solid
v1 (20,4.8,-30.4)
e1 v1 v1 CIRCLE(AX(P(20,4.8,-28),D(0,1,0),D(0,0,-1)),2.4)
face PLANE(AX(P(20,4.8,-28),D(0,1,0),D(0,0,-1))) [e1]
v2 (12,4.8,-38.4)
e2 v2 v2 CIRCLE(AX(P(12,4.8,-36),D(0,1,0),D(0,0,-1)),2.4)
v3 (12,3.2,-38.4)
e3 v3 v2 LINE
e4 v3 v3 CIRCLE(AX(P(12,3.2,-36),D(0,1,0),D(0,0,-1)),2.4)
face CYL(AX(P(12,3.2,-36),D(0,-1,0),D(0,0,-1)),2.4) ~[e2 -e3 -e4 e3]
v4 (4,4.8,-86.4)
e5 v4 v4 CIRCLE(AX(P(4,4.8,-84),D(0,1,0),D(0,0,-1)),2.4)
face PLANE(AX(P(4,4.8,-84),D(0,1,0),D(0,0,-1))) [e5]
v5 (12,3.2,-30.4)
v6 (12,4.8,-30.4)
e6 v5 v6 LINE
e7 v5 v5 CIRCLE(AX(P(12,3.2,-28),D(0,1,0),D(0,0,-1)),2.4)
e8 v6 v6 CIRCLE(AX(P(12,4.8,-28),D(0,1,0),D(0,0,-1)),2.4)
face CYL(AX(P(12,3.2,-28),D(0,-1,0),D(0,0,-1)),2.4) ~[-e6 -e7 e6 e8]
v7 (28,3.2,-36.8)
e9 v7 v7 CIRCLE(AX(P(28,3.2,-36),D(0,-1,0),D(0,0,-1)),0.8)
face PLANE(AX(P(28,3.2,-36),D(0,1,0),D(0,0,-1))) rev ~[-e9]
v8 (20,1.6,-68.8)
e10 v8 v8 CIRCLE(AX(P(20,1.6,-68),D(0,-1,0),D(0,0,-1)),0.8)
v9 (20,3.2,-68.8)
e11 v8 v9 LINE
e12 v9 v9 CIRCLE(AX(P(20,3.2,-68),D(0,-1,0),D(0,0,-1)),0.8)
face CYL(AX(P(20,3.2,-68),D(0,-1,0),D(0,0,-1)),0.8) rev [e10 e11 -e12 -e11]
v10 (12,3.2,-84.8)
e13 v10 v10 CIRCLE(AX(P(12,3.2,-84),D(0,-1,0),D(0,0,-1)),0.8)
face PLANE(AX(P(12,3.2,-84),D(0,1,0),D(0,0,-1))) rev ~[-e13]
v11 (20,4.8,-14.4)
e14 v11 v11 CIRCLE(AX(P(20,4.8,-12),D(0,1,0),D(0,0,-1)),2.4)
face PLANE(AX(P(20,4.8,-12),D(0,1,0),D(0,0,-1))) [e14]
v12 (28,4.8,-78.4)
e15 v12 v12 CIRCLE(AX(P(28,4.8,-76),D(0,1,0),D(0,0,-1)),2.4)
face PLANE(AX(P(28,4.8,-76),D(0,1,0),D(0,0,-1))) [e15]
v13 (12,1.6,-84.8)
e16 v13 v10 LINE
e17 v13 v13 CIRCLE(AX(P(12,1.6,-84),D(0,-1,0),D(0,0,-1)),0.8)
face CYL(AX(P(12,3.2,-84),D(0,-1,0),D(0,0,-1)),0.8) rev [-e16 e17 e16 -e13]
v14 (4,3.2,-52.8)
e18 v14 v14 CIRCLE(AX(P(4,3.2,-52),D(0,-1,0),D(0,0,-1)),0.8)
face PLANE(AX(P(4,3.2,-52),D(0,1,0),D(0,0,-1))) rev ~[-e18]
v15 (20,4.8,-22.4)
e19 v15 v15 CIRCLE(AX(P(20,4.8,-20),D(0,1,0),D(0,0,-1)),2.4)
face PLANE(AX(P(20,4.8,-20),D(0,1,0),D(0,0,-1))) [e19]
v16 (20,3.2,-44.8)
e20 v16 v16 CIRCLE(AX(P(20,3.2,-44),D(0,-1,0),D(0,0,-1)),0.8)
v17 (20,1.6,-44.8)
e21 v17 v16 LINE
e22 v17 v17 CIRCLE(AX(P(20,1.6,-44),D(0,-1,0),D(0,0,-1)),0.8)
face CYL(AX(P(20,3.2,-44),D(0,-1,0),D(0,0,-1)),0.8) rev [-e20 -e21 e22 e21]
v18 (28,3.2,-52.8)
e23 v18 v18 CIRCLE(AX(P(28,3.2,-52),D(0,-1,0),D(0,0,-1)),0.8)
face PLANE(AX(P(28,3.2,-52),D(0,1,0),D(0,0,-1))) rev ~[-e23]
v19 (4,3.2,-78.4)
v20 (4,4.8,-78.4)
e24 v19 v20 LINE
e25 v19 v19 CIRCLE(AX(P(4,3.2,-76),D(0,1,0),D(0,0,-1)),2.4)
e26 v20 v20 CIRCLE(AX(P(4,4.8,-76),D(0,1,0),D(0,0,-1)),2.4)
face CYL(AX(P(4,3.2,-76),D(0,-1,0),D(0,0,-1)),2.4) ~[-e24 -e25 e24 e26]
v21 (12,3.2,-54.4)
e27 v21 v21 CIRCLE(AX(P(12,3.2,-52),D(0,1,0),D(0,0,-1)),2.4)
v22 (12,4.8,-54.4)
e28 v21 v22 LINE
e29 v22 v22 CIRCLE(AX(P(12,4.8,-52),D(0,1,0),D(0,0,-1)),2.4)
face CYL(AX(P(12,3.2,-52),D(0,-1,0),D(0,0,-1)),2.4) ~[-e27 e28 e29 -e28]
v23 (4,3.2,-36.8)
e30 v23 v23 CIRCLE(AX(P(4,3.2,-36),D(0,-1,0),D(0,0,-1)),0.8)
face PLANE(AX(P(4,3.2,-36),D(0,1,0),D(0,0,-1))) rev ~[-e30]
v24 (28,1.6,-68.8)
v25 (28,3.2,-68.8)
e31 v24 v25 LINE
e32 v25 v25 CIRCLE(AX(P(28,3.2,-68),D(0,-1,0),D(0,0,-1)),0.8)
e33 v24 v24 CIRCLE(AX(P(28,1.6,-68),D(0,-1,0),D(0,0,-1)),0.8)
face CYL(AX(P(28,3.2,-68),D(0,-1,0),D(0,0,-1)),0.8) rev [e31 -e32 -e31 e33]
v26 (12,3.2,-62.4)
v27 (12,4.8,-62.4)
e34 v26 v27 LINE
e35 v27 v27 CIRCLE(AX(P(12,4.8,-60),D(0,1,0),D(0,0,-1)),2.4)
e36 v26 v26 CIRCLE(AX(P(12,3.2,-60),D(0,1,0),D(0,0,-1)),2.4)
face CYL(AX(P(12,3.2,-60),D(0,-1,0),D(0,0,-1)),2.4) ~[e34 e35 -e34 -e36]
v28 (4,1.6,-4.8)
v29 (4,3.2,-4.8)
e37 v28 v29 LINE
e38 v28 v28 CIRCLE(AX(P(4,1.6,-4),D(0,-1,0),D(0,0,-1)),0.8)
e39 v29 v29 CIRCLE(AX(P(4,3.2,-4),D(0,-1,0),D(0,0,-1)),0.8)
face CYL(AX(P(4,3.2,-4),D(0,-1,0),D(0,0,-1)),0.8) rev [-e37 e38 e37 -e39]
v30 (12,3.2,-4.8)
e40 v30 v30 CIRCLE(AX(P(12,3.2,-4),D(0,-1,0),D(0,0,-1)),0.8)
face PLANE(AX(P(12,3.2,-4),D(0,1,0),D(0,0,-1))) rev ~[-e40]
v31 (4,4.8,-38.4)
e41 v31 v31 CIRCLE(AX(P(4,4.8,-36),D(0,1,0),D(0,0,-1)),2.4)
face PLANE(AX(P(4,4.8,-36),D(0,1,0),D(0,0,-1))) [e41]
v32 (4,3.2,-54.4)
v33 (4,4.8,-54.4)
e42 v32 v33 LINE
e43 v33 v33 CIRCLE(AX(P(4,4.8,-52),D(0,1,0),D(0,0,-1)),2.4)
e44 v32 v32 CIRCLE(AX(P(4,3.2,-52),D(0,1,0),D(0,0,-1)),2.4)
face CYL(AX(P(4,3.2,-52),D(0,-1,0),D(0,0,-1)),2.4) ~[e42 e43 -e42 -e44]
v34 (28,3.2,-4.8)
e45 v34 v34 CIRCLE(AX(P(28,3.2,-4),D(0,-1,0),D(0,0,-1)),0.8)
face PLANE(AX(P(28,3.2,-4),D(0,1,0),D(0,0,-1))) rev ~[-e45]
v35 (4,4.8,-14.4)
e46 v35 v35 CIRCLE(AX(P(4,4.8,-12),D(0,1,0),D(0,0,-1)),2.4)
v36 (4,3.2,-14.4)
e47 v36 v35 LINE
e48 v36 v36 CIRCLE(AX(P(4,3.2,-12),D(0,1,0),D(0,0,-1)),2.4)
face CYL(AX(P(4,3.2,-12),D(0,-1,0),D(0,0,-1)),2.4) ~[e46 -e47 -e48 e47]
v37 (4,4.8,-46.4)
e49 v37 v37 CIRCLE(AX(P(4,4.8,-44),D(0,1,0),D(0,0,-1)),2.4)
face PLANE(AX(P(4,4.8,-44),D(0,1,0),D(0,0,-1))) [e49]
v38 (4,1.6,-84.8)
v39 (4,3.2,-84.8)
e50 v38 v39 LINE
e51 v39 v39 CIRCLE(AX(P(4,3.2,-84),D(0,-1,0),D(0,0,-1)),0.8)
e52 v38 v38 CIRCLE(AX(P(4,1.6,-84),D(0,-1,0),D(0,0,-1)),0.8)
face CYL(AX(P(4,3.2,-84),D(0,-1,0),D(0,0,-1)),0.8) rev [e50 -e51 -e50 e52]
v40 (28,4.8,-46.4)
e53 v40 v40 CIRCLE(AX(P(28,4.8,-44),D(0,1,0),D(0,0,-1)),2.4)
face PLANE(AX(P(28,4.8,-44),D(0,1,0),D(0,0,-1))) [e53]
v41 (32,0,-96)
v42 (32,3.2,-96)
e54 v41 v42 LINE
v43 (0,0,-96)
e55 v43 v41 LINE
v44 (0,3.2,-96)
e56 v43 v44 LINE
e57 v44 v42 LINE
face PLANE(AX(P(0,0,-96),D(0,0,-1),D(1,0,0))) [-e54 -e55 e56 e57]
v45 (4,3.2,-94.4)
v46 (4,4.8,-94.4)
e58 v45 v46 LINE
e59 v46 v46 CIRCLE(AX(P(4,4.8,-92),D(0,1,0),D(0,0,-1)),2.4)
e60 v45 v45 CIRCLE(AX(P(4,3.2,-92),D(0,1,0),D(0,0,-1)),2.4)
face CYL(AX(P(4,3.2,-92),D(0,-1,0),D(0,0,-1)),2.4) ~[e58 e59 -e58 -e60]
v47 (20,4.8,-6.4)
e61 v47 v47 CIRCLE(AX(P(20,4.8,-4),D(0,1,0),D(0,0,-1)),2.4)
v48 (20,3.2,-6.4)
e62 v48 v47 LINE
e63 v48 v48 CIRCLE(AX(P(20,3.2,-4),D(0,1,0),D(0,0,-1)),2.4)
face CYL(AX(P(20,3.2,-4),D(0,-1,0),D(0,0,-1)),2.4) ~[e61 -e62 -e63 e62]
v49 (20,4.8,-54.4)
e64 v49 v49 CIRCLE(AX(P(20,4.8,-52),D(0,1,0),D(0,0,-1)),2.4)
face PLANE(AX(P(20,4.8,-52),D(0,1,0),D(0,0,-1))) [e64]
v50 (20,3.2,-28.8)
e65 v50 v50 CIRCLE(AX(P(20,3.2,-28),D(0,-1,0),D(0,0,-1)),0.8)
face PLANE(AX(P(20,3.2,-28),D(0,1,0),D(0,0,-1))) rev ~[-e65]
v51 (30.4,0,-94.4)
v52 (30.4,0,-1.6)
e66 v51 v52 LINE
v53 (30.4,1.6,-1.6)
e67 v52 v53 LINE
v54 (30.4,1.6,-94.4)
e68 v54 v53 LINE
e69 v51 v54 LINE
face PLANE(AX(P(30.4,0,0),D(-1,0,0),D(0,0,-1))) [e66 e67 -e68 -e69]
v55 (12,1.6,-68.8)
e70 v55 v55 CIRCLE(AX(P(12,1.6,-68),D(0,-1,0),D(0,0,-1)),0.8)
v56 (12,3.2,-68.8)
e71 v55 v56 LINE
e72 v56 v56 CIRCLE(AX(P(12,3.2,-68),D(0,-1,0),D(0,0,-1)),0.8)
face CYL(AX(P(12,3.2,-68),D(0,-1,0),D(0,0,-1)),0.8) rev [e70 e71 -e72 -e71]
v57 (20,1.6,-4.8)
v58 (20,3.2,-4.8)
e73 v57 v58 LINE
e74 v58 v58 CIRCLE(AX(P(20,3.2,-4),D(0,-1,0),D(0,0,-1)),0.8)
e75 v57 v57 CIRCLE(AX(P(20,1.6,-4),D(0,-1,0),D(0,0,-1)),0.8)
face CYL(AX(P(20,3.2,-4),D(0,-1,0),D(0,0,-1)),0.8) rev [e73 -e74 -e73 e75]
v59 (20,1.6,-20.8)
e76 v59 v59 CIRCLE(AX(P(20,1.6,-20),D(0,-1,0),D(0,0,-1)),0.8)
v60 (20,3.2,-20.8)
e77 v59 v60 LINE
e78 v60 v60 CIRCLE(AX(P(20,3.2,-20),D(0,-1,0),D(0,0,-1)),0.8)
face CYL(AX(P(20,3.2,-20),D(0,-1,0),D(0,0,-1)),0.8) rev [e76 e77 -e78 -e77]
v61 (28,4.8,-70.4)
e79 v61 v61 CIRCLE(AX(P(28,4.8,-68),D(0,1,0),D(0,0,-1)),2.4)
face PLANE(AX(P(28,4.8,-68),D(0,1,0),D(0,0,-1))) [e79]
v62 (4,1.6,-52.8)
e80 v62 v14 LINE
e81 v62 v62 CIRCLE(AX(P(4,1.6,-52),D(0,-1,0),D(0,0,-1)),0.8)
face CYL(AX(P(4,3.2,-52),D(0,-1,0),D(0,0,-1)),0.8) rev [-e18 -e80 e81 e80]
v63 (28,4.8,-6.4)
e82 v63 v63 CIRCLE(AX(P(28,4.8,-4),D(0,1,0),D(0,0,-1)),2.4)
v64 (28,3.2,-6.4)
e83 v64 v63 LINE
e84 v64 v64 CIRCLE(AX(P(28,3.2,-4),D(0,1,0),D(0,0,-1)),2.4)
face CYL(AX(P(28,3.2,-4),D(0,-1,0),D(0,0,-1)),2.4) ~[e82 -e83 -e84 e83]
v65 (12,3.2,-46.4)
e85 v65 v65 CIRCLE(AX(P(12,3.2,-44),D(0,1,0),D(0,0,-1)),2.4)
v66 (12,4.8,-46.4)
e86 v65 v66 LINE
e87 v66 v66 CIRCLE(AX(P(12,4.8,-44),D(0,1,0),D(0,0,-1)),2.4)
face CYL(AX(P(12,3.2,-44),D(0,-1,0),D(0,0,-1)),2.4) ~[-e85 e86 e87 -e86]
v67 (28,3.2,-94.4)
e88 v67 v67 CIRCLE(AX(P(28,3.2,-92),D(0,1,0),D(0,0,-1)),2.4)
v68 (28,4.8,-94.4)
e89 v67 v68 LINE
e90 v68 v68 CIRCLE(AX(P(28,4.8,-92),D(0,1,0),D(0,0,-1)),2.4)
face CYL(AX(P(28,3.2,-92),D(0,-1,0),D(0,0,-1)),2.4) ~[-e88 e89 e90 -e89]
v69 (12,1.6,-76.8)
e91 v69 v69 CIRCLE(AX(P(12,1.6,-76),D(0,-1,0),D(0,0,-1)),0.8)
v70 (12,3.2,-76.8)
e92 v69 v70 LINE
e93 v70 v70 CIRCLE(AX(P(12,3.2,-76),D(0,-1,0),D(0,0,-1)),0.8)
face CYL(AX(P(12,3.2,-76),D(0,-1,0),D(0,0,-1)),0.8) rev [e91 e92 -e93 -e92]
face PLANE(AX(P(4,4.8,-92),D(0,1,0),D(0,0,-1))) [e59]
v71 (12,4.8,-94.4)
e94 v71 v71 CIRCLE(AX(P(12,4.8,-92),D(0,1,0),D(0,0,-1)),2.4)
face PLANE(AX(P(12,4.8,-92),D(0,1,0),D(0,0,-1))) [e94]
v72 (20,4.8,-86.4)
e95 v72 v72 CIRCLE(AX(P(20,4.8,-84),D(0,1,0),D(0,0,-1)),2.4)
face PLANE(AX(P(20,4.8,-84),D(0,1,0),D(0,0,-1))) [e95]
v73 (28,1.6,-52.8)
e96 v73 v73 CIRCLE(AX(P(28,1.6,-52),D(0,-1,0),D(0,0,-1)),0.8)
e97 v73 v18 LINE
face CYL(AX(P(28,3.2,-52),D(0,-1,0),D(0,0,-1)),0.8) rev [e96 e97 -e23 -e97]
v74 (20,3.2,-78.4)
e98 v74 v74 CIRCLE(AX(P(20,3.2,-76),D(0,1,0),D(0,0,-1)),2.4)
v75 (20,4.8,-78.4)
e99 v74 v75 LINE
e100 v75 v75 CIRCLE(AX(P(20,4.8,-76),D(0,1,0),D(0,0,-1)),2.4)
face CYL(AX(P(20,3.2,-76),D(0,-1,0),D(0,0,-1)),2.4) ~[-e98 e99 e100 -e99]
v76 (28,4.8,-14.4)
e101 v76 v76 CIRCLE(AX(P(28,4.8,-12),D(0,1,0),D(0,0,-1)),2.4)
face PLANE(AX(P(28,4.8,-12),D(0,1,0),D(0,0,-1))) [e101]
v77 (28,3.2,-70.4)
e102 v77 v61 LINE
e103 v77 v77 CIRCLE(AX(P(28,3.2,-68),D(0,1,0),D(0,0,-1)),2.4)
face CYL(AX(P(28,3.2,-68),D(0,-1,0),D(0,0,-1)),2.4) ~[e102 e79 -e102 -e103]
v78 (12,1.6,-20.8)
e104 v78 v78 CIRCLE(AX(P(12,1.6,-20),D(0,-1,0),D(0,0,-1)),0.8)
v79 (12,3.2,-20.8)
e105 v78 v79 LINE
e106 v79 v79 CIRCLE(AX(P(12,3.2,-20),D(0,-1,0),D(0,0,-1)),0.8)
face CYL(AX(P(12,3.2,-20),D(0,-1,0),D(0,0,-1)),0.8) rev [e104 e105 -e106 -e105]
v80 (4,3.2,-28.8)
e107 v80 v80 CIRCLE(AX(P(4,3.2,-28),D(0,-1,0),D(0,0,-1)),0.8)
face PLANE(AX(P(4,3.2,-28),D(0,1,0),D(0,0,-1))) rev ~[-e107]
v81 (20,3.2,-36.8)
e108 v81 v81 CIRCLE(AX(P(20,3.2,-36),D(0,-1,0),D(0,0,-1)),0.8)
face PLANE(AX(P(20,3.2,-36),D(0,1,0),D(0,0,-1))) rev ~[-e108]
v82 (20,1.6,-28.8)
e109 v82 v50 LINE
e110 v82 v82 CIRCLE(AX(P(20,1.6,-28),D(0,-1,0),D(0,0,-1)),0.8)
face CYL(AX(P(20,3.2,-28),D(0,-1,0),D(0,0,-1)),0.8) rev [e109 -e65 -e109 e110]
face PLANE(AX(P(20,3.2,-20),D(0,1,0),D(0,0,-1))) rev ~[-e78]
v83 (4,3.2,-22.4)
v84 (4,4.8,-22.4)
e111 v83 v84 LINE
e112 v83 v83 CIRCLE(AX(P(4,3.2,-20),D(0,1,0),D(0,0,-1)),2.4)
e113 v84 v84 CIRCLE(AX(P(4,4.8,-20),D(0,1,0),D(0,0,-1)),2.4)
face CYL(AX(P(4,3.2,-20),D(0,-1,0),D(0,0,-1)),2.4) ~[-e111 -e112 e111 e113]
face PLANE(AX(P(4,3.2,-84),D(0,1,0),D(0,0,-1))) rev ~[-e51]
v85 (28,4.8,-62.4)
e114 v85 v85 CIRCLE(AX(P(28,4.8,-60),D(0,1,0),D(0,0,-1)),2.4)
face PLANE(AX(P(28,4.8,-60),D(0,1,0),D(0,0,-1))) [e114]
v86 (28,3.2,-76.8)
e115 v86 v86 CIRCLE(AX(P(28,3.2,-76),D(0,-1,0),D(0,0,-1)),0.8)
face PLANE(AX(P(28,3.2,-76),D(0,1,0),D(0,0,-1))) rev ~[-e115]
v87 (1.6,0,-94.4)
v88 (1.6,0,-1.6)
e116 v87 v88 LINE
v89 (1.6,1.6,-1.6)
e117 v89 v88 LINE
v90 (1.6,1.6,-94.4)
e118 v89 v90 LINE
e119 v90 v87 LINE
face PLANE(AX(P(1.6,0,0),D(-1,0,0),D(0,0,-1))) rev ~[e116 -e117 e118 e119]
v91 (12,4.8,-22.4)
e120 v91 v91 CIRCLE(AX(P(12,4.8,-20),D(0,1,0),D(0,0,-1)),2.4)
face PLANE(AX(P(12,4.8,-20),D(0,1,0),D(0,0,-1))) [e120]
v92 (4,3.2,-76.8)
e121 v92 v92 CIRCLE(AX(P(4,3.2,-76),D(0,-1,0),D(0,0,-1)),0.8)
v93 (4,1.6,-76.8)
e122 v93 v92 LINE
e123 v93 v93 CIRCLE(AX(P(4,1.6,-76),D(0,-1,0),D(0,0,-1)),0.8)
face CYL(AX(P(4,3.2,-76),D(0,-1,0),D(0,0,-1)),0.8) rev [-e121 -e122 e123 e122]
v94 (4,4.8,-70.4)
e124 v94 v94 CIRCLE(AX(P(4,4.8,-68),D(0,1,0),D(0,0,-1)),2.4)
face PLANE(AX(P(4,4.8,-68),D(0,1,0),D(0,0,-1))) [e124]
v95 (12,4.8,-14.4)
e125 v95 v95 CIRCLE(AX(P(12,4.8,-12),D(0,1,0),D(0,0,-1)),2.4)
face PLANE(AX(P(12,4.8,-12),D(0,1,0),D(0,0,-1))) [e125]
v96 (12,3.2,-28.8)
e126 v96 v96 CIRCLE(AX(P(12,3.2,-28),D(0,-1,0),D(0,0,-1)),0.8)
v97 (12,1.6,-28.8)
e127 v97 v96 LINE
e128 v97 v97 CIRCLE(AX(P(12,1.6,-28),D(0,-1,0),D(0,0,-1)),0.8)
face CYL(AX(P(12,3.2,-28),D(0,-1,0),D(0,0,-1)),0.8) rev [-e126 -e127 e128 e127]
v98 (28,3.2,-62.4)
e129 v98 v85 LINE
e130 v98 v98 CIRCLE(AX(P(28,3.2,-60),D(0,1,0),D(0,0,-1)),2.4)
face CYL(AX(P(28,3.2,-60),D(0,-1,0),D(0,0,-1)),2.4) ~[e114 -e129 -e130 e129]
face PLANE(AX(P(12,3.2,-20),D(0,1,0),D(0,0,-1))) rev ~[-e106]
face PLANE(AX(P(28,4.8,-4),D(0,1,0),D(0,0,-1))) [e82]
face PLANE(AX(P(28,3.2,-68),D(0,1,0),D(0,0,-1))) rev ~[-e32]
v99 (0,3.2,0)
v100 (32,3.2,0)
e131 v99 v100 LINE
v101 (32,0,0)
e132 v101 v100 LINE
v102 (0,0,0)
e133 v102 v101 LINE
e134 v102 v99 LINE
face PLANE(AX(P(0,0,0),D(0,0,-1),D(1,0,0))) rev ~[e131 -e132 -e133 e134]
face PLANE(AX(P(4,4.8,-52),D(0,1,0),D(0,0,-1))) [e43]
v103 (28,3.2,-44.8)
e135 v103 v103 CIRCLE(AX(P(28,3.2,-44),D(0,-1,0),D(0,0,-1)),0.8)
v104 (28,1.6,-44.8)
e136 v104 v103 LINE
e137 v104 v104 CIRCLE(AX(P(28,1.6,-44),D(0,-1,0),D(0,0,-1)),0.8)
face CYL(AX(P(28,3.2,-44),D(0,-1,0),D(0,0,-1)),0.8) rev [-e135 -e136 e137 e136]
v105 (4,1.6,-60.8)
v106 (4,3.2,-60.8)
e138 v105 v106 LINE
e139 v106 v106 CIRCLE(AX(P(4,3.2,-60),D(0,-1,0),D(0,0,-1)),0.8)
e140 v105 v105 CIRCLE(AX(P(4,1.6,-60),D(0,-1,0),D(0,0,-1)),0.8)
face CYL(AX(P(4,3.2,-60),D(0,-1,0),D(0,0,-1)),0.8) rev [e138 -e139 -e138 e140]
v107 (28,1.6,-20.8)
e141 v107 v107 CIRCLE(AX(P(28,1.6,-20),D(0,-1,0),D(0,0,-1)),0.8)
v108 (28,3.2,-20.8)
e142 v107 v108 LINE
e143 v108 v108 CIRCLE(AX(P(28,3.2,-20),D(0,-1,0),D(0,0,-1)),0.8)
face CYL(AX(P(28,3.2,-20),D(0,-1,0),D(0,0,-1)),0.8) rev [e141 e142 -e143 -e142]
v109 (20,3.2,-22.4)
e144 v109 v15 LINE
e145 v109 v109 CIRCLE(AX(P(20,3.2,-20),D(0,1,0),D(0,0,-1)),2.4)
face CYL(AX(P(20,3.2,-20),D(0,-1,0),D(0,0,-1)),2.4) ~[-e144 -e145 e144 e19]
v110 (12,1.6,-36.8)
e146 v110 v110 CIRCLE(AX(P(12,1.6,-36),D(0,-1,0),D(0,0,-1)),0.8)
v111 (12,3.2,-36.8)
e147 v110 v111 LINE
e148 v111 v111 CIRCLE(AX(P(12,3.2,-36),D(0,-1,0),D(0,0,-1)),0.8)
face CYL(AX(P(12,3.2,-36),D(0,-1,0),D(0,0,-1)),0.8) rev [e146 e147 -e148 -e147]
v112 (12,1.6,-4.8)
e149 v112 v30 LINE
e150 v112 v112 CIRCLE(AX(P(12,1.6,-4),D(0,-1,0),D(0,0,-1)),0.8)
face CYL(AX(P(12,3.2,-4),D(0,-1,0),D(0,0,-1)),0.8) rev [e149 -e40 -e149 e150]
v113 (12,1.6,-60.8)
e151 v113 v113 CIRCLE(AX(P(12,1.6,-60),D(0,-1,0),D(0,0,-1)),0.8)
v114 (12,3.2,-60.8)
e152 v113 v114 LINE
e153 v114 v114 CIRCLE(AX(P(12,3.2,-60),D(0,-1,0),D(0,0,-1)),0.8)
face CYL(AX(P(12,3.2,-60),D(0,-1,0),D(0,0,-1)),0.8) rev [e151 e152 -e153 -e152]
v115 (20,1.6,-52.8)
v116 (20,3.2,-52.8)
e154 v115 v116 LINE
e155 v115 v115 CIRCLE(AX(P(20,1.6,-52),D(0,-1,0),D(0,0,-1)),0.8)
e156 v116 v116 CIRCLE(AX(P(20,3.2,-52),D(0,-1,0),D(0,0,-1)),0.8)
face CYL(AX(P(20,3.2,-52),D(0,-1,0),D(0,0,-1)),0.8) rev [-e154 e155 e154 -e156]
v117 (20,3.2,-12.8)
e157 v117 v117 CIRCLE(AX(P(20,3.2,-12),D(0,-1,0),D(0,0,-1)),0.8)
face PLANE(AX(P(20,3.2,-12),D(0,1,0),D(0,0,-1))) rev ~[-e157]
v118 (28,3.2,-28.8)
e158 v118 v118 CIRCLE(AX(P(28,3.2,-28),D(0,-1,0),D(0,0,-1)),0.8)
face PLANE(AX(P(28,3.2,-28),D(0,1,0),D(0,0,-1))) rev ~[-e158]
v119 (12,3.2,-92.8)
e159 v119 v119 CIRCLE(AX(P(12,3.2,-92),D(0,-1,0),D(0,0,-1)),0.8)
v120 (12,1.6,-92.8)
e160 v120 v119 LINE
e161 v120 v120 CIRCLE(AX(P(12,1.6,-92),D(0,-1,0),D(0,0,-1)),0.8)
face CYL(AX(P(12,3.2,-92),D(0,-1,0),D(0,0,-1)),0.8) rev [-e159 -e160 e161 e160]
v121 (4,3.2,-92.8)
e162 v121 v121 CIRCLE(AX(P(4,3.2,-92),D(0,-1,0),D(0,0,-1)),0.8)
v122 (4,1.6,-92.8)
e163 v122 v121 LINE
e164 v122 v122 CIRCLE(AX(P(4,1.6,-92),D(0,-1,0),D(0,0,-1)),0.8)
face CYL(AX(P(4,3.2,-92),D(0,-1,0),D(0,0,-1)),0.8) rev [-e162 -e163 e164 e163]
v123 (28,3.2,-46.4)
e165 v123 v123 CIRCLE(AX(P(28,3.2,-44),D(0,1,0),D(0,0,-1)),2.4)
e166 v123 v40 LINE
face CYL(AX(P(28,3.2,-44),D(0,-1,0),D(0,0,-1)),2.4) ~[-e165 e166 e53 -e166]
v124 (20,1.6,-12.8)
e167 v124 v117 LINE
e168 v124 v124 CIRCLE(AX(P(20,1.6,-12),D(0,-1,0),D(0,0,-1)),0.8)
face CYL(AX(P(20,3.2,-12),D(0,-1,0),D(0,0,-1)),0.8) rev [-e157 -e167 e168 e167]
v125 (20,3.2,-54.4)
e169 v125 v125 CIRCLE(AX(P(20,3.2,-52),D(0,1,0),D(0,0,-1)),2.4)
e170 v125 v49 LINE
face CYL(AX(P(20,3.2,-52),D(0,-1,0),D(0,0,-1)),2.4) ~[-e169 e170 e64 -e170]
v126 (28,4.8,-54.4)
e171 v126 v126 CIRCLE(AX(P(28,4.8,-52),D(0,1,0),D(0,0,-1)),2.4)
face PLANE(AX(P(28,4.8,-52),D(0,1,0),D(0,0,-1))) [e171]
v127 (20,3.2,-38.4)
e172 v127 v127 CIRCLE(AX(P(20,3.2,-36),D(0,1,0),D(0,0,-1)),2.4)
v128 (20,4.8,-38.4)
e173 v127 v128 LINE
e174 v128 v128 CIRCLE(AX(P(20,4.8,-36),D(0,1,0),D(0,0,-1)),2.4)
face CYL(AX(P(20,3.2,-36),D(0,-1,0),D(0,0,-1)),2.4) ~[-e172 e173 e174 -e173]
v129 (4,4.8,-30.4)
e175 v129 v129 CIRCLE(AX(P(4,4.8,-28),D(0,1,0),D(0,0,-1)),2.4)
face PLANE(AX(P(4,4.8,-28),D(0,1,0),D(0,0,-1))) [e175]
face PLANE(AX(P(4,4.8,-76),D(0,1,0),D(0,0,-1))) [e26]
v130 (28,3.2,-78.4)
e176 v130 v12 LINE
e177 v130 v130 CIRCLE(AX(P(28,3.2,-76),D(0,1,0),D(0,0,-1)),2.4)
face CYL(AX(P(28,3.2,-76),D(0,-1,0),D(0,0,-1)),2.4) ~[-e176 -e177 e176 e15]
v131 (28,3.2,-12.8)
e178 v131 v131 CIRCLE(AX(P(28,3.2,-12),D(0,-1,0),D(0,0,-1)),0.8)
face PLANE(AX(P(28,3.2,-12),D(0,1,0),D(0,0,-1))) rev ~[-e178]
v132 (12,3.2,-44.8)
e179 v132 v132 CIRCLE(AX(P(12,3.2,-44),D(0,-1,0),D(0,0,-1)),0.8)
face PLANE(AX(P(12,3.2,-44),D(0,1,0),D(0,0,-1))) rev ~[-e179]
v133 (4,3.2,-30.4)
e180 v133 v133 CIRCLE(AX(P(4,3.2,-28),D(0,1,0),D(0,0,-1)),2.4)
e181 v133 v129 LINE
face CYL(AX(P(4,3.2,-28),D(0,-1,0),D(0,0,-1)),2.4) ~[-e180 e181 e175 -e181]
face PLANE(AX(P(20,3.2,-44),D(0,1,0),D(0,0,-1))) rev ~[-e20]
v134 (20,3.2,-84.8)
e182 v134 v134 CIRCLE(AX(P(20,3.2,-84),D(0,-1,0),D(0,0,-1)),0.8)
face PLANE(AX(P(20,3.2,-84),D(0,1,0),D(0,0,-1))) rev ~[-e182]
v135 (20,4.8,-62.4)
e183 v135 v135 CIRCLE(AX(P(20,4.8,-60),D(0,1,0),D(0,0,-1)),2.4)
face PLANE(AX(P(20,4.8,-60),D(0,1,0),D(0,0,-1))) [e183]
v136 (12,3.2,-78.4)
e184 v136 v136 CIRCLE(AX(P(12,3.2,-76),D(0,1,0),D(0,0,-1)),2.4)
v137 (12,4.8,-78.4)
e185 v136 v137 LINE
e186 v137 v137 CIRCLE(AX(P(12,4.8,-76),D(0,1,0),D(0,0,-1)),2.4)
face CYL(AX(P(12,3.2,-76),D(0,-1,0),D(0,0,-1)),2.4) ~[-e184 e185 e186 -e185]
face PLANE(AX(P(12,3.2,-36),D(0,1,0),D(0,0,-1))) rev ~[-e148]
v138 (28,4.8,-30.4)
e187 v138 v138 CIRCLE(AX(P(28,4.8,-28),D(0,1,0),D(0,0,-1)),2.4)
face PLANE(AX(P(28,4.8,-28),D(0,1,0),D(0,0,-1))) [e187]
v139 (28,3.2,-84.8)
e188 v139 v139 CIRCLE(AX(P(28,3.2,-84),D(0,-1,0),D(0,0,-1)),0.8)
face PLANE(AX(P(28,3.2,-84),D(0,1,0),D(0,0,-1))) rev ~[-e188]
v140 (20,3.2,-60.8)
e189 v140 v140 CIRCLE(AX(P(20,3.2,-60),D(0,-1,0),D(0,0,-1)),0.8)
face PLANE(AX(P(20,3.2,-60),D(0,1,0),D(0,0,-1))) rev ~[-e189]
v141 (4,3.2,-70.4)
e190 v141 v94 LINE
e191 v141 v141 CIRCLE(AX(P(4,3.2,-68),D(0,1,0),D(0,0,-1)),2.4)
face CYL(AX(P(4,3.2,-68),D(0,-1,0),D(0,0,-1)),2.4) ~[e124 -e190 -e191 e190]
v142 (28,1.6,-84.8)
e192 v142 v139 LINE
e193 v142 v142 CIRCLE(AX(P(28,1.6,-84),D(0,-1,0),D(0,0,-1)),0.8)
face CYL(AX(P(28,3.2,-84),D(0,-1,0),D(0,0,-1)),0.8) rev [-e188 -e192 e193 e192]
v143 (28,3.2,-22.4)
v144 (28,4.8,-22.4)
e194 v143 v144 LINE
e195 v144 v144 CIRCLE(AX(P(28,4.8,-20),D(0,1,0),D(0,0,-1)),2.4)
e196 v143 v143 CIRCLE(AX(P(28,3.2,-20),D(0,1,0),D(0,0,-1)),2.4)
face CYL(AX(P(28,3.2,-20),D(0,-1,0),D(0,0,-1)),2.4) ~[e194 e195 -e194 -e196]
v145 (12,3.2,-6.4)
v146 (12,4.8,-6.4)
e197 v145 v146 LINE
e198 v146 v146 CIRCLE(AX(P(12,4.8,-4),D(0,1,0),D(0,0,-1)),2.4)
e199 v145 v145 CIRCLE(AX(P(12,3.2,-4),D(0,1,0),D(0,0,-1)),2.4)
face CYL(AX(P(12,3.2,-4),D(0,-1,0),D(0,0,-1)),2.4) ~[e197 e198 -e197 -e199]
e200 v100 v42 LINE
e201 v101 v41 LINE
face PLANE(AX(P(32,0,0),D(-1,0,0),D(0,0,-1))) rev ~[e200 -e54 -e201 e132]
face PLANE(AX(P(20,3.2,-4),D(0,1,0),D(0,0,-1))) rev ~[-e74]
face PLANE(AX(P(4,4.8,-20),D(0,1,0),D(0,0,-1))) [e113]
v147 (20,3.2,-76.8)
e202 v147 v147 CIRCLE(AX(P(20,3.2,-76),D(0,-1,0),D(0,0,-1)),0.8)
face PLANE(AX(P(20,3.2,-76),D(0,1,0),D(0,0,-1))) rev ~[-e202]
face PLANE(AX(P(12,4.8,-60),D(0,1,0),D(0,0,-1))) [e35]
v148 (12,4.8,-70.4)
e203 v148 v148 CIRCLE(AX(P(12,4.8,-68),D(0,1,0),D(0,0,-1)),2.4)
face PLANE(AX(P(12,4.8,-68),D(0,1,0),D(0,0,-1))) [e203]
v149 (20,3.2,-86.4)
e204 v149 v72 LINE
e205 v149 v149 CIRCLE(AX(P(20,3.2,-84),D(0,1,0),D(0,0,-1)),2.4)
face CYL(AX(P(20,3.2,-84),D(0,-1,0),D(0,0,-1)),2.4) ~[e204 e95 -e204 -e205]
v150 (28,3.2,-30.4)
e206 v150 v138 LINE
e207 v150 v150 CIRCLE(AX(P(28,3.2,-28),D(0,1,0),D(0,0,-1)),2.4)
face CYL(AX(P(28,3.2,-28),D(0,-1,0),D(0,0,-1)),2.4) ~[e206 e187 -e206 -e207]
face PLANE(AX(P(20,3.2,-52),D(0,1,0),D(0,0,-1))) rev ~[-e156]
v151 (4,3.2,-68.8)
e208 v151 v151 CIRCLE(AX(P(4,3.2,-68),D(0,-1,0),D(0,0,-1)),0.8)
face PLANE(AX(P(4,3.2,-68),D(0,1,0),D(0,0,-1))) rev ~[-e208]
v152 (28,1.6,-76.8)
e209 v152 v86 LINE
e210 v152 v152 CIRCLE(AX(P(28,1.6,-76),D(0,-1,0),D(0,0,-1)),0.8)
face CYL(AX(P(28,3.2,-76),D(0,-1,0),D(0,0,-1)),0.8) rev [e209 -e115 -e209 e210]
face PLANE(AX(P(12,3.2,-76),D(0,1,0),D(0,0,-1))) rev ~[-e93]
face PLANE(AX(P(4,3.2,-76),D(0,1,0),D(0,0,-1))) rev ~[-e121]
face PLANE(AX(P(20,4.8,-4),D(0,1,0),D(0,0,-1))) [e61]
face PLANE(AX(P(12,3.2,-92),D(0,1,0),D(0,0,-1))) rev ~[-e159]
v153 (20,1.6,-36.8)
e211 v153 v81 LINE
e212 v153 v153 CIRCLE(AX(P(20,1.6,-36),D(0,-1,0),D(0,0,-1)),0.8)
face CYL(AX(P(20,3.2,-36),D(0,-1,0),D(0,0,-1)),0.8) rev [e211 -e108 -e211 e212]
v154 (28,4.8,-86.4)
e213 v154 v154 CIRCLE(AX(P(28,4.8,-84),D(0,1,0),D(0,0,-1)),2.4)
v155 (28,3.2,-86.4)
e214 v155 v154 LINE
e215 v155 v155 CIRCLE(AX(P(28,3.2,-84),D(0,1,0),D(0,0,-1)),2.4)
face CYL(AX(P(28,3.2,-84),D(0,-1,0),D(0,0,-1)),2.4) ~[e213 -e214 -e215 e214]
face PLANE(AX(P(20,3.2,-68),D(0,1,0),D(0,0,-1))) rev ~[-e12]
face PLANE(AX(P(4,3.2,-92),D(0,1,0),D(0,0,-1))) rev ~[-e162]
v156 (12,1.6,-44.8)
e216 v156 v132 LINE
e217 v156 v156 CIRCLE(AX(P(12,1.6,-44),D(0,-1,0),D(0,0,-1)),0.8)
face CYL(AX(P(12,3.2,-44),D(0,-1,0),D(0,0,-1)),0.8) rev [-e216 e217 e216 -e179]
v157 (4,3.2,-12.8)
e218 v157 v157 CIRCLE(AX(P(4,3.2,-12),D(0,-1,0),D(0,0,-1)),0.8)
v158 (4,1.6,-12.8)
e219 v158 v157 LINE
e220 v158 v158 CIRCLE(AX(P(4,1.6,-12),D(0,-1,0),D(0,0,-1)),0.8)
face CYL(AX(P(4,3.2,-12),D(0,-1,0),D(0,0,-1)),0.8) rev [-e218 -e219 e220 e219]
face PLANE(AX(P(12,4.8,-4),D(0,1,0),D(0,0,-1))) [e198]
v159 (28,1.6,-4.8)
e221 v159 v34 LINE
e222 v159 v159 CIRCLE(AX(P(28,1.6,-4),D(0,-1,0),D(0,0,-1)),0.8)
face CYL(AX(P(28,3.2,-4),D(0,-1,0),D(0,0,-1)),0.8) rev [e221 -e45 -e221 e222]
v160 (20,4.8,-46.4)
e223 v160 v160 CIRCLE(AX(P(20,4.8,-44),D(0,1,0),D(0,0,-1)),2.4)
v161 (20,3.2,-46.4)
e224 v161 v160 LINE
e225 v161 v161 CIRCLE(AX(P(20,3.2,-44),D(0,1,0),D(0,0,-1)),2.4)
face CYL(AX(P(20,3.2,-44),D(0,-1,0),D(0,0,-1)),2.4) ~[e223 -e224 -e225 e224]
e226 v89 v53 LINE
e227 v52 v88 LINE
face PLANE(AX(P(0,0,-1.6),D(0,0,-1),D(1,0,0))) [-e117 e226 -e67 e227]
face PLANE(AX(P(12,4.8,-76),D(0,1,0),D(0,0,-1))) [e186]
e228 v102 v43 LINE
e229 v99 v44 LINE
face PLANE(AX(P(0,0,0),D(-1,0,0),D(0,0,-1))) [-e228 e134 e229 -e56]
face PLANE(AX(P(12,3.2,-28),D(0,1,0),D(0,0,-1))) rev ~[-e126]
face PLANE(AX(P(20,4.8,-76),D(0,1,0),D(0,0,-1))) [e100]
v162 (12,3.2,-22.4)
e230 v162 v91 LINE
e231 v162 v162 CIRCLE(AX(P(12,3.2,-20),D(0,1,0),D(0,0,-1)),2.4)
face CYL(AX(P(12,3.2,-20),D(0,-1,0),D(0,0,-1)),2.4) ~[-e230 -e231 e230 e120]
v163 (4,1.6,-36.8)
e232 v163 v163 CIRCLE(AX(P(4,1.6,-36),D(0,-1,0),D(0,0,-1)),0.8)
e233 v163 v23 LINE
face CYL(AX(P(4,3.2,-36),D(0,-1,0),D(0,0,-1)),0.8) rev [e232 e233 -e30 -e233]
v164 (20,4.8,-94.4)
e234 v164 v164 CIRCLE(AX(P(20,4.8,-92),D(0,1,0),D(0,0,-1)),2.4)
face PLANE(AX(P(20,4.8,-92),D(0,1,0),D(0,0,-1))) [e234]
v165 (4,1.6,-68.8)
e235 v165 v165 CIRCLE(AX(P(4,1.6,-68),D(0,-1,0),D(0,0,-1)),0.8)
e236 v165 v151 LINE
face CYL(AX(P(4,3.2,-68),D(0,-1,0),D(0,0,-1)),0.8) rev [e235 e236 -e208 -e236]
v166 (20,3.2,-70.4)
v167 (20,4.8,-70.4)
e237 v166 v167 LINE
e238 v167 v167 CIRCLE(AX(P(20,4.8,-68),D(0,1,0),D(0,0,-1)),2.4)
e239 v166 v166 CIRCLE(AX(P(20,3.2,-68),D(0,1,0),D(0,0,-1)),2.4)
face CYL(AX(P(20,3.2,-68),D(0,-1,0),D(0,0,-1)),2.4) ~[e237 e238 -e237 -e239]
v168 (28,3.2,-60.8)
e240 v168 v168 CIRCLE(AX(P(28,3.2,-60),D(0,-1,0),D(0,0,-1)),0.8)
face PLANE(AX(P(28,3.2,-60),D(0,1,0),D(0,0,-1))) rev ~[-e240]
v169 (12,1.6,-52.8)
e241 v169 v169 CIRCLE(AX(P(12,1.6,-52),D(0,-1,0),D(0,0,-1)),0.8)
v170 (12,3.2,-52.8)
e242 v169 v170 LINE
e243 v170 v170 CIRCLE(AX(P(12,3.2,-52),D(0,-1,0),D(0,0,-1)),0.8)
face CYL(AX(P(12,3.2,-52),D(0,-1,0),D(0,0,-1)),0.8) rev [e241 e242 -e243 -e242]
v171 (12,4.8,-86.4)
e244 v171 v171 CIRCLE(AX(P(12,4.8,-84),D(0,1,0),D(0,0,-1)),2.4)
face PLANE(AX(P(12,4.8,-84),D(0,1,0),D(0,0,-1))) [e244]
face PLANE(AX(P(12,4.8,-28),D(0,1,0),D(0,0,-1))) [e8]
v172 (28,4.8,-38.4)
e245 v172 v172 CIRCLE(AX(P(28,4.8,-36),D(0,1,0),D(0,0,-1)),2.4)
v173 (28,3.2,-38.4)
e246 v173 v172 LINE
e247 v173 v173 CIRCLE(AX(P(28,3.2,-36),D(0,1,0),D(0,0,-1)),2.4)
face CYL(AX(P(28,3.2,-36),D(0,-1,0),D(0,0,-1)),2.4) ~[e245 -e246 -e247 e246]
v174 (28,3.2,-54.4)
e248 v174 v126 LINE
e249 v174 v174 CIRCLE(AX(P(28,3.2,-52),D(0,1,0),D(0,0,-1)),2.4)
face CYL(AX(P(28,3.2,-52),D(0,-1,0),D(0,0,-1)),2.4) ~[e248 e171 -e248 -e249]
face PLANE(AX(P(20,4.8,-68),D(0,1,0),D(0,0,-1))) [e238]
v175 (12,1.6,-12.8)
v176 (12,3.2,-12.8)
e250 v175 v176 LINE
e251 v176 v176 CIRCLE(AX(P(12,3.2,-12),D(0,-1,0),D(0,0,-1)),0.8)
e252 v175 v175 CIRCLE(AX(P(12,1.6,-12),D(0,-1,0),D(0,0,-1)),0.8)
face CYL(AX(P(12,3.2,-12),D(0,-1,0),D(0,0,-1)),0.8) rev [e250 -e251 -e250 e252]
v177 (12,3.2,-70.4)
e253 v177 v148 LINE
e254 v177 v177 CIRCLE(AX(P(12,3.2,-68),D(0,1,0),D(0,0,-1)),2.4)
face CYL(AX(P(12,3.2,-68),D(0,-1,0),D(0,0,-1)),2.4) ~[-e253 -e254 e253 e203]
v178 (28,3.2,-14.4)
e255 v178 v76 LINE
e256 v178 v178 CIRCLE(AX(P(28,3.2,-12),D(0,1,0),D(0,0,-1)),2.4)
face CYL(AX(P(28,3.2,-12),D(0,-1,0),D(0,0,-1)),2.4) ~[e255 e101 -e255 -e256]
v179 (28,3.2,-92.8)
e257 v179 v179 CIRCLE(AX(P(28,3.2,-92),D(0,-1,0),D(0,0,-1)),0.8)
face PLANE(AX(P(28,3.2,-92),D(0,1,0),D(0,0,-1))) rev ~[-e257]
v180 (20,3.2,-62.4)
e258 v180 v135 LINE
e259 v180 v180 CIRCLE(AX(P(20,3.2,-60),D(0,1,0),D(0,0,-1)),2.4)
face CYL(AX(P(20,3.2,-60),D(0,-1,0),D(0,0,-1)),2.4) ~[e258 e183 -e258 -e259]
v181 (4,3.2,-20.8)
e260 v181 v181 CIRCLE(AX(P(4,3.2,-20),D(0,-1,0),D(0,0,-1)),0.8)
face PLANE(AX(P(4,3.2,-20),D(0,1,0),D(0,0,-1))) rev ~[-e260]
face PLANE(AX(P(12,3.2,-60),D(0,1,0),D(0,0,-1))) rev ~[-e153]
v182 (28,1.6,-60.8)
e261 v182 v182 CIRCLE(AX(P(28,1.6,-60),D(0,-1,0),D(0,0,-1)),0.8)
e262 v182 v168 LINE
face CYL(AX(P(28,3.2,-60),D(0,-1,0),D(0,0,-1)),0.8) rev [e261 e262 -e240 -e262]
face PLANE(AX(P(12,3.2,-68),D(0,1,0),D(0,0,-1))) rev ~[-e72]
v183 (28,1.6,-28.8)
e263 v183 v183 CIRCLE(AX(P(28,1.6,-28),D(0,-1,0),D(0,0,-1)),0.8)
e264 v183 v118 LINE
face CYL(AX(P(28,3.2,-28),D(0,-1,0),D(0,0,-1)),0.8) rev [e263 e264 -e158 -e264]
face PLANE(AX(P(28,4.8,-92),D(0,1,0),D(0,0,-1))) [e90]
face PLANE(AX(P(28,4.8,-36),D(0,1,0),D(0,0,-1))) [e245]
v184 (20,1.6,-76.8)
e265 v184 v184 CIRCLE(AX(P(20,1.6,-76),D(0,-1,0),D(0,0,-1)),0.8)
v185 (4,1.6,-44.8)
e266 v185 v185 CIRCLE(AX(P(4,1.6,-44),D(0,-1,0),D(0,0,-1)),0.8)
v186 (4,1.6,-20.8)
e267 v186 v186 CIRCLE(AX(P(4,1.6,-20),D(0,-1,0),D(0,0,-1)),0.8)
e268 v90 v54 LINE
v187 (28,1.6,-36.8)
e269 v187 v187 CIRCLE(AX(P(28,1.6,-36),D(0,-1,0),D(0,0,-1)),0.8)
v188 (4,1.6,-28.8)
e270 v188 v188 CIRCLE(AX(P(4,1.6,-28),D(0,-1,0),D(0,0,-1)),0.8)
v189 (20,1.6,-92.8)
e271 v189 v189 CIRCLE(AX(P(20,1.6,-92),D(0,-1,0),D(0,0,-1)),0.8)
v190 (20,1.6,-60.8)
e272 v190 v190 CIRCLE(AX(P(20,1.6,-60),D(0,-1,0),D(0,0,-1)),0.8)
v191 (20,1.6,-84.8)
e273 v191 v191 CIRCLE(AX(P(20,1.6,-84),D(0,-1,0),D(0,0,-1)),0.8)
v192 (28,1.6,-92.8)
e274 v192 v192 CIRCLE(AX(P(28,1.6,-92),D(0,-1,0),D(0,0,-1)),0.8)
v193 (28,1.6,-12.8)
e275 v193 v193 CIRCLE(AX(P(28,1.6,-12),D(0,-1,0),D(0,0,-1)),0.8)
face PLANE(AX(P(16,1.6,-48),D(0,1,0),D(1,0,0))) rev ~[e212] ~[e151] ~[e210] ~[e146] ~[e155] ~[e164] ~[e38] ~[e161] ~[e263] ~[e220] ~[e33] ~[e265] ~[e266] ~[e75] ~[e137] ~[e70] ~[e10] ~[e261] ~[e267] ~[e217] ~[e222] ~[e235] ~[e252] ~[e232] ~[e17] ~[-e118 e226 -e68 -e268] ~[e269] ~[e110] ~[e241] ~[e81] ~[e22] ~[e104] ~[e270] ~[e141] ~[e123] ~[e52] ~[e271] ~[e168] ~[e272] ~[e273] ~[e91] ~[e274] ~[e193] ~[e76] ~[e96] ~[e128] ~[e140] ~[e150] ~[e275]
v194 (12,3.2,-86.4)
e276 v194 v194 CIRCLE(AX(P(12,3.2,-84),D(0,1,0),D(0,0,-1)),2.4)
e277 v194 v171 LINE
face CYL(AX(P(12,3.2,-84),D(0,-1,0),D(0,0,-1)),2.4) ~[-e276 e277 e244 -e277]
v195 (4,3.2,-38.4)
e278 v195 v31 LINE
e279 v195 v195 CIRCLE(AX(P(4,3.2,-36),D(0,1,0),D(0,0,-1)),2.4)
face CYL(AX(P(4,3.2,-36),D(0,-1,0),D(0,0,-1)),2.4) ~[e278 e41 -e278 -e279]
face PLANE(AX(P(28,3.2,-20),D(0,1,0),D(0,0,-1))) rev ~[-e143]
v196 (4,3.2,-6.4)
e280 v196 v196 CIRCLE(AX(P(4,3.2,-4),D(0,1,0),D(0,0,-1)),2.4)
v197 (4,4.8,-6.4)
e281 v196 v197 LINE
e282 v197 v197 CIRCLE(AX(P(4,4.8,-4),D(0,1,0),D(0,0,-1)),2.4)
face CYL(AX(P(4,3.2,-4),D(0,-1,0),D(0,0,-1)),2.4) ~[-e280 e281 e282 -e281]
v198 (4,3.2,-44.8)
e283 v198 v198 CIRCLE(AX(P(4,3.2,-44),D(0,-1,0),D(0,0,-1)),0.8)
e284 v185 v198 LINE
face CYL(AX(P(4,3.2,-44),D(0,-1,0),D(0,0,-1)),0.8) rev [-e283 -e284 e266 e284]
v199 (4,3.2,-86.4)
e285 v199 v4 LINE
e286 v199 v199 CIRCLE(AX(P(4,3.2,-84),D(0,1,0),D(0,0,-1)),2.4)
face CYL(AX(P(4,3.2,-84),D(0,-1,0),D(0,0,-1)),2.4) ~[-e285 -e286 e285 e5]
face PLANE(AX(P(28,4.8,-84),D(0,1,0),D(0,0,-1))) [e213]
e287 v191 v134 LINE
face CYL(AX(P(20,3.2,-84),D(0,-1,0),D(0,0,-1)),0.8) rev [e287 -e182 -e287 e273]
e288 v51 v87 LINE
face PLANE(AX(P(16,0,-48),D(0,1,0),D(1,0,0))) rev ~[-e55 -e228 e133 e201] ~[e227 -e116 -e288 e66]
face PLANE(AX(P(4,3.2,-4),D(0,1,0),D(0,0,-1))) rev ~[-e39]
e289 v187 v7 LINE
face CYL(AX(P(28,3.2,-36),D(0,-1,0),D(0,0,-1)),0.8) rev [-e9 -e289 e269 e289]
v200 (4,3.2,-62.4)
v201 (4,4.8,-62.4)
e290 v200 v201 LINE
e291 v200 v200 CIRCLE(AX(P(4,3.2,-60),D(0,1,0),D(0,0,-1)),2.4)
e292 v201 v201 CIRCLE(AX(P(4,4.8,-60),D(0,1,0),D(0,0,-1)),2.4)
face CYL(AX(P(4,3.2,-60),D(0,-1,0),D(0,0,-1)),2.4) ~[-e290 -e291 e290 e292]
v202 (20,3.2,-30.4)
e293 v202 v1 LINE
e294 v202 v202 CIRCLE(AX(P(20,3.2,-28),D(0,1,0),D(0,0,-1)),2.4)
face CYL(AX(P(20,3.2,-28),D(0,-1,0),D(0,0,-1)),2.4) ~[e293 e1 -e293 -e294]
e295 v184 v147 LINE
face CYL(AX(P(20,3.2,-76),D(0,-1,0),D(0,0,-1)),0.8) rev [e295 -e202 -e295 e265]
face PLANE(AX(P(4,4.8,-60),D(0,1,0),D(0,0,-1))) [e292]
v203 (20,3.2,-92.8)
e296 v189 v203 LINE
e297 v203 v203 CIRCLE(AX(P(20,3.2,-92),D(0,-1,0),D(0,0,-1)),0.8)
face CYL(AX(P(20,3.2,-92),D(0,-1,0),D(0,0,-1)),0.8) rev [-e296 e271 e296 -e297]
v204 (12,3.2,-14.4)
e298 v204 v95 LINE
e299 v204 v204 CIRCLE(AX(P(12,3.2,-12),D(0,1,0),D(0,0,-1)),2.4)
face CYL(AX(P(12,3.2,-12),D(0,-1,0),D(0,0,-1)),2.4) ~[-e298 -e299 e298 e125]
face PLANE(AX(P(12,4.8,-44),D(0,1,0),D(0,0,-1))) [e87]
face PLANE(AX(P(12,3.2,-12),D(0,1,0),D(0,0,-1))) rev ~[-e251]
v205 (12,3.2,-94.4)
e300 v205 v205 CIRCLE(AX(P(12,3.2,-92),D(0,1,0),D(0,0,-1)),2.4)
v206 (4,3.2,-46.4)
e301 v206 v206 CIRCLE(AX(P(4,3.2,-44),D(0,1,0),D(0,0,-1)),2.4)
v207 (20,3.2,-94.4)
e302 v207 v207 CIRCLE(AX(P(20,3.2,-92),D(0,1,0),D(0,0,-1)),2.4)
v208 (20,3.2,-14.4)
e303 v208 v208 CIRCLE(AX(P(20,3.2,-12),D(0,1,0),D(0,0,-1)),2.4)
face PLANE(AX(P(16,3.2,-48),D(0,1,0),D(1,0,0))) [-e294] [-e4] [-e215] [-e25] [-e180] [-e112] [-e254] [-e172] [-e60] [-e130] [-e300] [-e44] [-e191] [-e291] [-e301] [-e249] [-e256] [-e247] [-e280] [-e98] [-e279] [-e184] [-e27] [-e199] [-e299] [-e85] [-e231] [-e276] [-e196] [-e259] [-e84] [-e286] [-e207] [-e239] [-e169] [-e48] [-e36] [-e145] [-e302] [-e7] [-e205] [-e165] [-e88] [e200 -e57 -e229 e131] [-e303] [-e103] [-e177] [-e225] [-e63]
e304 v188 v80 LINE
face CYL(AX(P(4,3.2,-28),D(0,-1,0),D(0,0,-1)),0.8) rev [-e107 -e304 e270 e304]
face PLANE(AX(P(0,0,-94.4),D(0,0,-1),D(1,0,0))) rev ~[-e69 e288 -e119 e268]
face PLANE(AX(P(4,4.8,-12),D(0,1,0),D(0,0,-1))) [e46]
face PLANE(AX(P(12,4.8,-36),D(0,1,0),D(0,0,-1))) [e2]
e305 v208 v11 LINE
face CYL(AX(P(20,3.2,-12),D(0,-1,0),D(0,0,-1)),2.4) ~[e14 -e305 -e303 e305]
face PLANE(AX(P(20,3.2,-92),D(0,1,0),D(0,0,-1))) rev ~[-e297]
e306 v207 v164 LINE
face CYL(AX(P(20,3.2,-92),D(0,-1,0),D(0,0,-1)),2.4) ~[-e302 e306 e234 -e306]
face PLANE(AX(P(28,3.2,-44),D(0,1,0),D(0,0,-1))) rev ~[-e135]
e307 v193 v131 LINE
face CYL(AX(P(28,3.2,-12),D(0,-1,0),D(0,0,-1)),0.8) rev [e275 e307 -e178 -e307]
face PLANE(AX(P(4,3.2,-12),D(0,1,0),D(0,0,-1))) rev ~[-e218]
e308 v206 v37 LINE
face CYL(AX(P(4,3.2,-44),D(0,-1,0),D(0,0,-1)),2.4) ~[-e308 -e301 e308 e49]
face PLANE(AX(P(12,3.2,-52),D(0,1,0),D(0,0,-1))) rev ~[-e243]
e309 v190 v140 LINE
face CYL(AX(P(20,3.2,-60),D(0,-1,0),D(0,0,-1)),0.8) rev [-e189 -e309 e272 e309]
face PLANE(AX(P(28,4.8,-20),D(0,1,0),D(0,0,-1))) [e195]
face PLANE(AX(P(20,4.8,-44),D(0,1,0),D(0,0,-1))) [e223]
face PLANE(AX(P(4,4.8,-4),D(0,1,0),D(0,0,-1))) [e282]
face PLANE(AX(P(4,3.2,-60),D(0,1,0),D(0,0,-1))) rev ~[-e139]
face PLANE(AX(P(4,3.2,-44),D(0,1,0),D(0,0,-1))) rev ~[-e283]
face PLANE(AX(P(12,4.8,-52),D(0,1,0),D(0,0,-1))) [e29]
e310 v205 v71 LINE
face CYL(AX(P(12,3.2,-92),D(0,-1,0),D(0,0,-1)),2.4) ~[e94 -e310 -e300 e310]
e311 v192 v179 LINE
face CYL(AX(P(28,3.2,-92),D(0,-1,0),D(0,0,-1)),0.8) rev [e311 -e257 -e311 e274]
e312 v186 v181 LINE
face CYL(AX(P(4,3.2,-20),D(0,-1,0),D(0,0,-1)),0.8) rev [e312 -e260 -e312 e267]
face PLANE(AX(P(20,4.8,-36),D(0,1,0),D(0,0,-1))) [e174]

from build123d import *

# Parameters (mm, degrees)
SKETCH1_W            = 32
SKETCH1_H            = 96
BOSS_EXTRUDE1_DEPTH  = 3.2
SKETCH2_R            = 2.4
BOSS_EXTRUDE2_DEPTH  = 1.6
LPATTERN1_COUNT      = 4
LPATTERN1_PITCH      = 8
LPATTERN1_COUNT_DIR2 = 12
LPATTERN1_PITCH_DIR2 = 8
SHELL1_T             = -1.6


with BuildPart() as part:
    # Sketch1 → Boss-Extrude1 (new body)
    with BuildSketch(Plane(origin=(0, 0, 0), x_dir=(1, 0, 0), z_dir=(0, 1, 0))):
        with Locations((16, 48)):
            Rectangle(SKETCH1_W, SKETCH1_H)
    extrude(amount=BOSS_EXTRUDE1_DEPTH)

    # Sketch2 → Boss-Extrude2 (add)
    with BuildSketch(Plane(origin=(0, 3.2, 0), x_dir=(1, 0, 0), z_dir=(0, 1, 0))):
        with Locations(Location((28, 4, 0), (0, 0, 90))):
            Circle(SKETCH2_R)
    boss_extrude2 = extrude(amount=BOSS_EXTRUDE2_DEPTH)

    # LPattern1: Boss-Extrude2 4 × 12
    with Locations(*[(-i * LPATTERN1_PITCH, 0, -j * LPATTERN1_PITCH_DIR2) for i in range(LPATTERN1_COUNT) for j in range(LPATTERN1_COUNT_DIR2) if (i, j) != (0, 0)]):
        add(boss_extrude2)

    # Shell1
    shell1_openings = [part.faces().sort_by_distance(p)[0] for p in [
        (16, 0, -48),
    ]]
    offset(amount=SHELL1_T, openings=shell1_openings, kind=Kind.INTERSECTION)


solid = part.part
